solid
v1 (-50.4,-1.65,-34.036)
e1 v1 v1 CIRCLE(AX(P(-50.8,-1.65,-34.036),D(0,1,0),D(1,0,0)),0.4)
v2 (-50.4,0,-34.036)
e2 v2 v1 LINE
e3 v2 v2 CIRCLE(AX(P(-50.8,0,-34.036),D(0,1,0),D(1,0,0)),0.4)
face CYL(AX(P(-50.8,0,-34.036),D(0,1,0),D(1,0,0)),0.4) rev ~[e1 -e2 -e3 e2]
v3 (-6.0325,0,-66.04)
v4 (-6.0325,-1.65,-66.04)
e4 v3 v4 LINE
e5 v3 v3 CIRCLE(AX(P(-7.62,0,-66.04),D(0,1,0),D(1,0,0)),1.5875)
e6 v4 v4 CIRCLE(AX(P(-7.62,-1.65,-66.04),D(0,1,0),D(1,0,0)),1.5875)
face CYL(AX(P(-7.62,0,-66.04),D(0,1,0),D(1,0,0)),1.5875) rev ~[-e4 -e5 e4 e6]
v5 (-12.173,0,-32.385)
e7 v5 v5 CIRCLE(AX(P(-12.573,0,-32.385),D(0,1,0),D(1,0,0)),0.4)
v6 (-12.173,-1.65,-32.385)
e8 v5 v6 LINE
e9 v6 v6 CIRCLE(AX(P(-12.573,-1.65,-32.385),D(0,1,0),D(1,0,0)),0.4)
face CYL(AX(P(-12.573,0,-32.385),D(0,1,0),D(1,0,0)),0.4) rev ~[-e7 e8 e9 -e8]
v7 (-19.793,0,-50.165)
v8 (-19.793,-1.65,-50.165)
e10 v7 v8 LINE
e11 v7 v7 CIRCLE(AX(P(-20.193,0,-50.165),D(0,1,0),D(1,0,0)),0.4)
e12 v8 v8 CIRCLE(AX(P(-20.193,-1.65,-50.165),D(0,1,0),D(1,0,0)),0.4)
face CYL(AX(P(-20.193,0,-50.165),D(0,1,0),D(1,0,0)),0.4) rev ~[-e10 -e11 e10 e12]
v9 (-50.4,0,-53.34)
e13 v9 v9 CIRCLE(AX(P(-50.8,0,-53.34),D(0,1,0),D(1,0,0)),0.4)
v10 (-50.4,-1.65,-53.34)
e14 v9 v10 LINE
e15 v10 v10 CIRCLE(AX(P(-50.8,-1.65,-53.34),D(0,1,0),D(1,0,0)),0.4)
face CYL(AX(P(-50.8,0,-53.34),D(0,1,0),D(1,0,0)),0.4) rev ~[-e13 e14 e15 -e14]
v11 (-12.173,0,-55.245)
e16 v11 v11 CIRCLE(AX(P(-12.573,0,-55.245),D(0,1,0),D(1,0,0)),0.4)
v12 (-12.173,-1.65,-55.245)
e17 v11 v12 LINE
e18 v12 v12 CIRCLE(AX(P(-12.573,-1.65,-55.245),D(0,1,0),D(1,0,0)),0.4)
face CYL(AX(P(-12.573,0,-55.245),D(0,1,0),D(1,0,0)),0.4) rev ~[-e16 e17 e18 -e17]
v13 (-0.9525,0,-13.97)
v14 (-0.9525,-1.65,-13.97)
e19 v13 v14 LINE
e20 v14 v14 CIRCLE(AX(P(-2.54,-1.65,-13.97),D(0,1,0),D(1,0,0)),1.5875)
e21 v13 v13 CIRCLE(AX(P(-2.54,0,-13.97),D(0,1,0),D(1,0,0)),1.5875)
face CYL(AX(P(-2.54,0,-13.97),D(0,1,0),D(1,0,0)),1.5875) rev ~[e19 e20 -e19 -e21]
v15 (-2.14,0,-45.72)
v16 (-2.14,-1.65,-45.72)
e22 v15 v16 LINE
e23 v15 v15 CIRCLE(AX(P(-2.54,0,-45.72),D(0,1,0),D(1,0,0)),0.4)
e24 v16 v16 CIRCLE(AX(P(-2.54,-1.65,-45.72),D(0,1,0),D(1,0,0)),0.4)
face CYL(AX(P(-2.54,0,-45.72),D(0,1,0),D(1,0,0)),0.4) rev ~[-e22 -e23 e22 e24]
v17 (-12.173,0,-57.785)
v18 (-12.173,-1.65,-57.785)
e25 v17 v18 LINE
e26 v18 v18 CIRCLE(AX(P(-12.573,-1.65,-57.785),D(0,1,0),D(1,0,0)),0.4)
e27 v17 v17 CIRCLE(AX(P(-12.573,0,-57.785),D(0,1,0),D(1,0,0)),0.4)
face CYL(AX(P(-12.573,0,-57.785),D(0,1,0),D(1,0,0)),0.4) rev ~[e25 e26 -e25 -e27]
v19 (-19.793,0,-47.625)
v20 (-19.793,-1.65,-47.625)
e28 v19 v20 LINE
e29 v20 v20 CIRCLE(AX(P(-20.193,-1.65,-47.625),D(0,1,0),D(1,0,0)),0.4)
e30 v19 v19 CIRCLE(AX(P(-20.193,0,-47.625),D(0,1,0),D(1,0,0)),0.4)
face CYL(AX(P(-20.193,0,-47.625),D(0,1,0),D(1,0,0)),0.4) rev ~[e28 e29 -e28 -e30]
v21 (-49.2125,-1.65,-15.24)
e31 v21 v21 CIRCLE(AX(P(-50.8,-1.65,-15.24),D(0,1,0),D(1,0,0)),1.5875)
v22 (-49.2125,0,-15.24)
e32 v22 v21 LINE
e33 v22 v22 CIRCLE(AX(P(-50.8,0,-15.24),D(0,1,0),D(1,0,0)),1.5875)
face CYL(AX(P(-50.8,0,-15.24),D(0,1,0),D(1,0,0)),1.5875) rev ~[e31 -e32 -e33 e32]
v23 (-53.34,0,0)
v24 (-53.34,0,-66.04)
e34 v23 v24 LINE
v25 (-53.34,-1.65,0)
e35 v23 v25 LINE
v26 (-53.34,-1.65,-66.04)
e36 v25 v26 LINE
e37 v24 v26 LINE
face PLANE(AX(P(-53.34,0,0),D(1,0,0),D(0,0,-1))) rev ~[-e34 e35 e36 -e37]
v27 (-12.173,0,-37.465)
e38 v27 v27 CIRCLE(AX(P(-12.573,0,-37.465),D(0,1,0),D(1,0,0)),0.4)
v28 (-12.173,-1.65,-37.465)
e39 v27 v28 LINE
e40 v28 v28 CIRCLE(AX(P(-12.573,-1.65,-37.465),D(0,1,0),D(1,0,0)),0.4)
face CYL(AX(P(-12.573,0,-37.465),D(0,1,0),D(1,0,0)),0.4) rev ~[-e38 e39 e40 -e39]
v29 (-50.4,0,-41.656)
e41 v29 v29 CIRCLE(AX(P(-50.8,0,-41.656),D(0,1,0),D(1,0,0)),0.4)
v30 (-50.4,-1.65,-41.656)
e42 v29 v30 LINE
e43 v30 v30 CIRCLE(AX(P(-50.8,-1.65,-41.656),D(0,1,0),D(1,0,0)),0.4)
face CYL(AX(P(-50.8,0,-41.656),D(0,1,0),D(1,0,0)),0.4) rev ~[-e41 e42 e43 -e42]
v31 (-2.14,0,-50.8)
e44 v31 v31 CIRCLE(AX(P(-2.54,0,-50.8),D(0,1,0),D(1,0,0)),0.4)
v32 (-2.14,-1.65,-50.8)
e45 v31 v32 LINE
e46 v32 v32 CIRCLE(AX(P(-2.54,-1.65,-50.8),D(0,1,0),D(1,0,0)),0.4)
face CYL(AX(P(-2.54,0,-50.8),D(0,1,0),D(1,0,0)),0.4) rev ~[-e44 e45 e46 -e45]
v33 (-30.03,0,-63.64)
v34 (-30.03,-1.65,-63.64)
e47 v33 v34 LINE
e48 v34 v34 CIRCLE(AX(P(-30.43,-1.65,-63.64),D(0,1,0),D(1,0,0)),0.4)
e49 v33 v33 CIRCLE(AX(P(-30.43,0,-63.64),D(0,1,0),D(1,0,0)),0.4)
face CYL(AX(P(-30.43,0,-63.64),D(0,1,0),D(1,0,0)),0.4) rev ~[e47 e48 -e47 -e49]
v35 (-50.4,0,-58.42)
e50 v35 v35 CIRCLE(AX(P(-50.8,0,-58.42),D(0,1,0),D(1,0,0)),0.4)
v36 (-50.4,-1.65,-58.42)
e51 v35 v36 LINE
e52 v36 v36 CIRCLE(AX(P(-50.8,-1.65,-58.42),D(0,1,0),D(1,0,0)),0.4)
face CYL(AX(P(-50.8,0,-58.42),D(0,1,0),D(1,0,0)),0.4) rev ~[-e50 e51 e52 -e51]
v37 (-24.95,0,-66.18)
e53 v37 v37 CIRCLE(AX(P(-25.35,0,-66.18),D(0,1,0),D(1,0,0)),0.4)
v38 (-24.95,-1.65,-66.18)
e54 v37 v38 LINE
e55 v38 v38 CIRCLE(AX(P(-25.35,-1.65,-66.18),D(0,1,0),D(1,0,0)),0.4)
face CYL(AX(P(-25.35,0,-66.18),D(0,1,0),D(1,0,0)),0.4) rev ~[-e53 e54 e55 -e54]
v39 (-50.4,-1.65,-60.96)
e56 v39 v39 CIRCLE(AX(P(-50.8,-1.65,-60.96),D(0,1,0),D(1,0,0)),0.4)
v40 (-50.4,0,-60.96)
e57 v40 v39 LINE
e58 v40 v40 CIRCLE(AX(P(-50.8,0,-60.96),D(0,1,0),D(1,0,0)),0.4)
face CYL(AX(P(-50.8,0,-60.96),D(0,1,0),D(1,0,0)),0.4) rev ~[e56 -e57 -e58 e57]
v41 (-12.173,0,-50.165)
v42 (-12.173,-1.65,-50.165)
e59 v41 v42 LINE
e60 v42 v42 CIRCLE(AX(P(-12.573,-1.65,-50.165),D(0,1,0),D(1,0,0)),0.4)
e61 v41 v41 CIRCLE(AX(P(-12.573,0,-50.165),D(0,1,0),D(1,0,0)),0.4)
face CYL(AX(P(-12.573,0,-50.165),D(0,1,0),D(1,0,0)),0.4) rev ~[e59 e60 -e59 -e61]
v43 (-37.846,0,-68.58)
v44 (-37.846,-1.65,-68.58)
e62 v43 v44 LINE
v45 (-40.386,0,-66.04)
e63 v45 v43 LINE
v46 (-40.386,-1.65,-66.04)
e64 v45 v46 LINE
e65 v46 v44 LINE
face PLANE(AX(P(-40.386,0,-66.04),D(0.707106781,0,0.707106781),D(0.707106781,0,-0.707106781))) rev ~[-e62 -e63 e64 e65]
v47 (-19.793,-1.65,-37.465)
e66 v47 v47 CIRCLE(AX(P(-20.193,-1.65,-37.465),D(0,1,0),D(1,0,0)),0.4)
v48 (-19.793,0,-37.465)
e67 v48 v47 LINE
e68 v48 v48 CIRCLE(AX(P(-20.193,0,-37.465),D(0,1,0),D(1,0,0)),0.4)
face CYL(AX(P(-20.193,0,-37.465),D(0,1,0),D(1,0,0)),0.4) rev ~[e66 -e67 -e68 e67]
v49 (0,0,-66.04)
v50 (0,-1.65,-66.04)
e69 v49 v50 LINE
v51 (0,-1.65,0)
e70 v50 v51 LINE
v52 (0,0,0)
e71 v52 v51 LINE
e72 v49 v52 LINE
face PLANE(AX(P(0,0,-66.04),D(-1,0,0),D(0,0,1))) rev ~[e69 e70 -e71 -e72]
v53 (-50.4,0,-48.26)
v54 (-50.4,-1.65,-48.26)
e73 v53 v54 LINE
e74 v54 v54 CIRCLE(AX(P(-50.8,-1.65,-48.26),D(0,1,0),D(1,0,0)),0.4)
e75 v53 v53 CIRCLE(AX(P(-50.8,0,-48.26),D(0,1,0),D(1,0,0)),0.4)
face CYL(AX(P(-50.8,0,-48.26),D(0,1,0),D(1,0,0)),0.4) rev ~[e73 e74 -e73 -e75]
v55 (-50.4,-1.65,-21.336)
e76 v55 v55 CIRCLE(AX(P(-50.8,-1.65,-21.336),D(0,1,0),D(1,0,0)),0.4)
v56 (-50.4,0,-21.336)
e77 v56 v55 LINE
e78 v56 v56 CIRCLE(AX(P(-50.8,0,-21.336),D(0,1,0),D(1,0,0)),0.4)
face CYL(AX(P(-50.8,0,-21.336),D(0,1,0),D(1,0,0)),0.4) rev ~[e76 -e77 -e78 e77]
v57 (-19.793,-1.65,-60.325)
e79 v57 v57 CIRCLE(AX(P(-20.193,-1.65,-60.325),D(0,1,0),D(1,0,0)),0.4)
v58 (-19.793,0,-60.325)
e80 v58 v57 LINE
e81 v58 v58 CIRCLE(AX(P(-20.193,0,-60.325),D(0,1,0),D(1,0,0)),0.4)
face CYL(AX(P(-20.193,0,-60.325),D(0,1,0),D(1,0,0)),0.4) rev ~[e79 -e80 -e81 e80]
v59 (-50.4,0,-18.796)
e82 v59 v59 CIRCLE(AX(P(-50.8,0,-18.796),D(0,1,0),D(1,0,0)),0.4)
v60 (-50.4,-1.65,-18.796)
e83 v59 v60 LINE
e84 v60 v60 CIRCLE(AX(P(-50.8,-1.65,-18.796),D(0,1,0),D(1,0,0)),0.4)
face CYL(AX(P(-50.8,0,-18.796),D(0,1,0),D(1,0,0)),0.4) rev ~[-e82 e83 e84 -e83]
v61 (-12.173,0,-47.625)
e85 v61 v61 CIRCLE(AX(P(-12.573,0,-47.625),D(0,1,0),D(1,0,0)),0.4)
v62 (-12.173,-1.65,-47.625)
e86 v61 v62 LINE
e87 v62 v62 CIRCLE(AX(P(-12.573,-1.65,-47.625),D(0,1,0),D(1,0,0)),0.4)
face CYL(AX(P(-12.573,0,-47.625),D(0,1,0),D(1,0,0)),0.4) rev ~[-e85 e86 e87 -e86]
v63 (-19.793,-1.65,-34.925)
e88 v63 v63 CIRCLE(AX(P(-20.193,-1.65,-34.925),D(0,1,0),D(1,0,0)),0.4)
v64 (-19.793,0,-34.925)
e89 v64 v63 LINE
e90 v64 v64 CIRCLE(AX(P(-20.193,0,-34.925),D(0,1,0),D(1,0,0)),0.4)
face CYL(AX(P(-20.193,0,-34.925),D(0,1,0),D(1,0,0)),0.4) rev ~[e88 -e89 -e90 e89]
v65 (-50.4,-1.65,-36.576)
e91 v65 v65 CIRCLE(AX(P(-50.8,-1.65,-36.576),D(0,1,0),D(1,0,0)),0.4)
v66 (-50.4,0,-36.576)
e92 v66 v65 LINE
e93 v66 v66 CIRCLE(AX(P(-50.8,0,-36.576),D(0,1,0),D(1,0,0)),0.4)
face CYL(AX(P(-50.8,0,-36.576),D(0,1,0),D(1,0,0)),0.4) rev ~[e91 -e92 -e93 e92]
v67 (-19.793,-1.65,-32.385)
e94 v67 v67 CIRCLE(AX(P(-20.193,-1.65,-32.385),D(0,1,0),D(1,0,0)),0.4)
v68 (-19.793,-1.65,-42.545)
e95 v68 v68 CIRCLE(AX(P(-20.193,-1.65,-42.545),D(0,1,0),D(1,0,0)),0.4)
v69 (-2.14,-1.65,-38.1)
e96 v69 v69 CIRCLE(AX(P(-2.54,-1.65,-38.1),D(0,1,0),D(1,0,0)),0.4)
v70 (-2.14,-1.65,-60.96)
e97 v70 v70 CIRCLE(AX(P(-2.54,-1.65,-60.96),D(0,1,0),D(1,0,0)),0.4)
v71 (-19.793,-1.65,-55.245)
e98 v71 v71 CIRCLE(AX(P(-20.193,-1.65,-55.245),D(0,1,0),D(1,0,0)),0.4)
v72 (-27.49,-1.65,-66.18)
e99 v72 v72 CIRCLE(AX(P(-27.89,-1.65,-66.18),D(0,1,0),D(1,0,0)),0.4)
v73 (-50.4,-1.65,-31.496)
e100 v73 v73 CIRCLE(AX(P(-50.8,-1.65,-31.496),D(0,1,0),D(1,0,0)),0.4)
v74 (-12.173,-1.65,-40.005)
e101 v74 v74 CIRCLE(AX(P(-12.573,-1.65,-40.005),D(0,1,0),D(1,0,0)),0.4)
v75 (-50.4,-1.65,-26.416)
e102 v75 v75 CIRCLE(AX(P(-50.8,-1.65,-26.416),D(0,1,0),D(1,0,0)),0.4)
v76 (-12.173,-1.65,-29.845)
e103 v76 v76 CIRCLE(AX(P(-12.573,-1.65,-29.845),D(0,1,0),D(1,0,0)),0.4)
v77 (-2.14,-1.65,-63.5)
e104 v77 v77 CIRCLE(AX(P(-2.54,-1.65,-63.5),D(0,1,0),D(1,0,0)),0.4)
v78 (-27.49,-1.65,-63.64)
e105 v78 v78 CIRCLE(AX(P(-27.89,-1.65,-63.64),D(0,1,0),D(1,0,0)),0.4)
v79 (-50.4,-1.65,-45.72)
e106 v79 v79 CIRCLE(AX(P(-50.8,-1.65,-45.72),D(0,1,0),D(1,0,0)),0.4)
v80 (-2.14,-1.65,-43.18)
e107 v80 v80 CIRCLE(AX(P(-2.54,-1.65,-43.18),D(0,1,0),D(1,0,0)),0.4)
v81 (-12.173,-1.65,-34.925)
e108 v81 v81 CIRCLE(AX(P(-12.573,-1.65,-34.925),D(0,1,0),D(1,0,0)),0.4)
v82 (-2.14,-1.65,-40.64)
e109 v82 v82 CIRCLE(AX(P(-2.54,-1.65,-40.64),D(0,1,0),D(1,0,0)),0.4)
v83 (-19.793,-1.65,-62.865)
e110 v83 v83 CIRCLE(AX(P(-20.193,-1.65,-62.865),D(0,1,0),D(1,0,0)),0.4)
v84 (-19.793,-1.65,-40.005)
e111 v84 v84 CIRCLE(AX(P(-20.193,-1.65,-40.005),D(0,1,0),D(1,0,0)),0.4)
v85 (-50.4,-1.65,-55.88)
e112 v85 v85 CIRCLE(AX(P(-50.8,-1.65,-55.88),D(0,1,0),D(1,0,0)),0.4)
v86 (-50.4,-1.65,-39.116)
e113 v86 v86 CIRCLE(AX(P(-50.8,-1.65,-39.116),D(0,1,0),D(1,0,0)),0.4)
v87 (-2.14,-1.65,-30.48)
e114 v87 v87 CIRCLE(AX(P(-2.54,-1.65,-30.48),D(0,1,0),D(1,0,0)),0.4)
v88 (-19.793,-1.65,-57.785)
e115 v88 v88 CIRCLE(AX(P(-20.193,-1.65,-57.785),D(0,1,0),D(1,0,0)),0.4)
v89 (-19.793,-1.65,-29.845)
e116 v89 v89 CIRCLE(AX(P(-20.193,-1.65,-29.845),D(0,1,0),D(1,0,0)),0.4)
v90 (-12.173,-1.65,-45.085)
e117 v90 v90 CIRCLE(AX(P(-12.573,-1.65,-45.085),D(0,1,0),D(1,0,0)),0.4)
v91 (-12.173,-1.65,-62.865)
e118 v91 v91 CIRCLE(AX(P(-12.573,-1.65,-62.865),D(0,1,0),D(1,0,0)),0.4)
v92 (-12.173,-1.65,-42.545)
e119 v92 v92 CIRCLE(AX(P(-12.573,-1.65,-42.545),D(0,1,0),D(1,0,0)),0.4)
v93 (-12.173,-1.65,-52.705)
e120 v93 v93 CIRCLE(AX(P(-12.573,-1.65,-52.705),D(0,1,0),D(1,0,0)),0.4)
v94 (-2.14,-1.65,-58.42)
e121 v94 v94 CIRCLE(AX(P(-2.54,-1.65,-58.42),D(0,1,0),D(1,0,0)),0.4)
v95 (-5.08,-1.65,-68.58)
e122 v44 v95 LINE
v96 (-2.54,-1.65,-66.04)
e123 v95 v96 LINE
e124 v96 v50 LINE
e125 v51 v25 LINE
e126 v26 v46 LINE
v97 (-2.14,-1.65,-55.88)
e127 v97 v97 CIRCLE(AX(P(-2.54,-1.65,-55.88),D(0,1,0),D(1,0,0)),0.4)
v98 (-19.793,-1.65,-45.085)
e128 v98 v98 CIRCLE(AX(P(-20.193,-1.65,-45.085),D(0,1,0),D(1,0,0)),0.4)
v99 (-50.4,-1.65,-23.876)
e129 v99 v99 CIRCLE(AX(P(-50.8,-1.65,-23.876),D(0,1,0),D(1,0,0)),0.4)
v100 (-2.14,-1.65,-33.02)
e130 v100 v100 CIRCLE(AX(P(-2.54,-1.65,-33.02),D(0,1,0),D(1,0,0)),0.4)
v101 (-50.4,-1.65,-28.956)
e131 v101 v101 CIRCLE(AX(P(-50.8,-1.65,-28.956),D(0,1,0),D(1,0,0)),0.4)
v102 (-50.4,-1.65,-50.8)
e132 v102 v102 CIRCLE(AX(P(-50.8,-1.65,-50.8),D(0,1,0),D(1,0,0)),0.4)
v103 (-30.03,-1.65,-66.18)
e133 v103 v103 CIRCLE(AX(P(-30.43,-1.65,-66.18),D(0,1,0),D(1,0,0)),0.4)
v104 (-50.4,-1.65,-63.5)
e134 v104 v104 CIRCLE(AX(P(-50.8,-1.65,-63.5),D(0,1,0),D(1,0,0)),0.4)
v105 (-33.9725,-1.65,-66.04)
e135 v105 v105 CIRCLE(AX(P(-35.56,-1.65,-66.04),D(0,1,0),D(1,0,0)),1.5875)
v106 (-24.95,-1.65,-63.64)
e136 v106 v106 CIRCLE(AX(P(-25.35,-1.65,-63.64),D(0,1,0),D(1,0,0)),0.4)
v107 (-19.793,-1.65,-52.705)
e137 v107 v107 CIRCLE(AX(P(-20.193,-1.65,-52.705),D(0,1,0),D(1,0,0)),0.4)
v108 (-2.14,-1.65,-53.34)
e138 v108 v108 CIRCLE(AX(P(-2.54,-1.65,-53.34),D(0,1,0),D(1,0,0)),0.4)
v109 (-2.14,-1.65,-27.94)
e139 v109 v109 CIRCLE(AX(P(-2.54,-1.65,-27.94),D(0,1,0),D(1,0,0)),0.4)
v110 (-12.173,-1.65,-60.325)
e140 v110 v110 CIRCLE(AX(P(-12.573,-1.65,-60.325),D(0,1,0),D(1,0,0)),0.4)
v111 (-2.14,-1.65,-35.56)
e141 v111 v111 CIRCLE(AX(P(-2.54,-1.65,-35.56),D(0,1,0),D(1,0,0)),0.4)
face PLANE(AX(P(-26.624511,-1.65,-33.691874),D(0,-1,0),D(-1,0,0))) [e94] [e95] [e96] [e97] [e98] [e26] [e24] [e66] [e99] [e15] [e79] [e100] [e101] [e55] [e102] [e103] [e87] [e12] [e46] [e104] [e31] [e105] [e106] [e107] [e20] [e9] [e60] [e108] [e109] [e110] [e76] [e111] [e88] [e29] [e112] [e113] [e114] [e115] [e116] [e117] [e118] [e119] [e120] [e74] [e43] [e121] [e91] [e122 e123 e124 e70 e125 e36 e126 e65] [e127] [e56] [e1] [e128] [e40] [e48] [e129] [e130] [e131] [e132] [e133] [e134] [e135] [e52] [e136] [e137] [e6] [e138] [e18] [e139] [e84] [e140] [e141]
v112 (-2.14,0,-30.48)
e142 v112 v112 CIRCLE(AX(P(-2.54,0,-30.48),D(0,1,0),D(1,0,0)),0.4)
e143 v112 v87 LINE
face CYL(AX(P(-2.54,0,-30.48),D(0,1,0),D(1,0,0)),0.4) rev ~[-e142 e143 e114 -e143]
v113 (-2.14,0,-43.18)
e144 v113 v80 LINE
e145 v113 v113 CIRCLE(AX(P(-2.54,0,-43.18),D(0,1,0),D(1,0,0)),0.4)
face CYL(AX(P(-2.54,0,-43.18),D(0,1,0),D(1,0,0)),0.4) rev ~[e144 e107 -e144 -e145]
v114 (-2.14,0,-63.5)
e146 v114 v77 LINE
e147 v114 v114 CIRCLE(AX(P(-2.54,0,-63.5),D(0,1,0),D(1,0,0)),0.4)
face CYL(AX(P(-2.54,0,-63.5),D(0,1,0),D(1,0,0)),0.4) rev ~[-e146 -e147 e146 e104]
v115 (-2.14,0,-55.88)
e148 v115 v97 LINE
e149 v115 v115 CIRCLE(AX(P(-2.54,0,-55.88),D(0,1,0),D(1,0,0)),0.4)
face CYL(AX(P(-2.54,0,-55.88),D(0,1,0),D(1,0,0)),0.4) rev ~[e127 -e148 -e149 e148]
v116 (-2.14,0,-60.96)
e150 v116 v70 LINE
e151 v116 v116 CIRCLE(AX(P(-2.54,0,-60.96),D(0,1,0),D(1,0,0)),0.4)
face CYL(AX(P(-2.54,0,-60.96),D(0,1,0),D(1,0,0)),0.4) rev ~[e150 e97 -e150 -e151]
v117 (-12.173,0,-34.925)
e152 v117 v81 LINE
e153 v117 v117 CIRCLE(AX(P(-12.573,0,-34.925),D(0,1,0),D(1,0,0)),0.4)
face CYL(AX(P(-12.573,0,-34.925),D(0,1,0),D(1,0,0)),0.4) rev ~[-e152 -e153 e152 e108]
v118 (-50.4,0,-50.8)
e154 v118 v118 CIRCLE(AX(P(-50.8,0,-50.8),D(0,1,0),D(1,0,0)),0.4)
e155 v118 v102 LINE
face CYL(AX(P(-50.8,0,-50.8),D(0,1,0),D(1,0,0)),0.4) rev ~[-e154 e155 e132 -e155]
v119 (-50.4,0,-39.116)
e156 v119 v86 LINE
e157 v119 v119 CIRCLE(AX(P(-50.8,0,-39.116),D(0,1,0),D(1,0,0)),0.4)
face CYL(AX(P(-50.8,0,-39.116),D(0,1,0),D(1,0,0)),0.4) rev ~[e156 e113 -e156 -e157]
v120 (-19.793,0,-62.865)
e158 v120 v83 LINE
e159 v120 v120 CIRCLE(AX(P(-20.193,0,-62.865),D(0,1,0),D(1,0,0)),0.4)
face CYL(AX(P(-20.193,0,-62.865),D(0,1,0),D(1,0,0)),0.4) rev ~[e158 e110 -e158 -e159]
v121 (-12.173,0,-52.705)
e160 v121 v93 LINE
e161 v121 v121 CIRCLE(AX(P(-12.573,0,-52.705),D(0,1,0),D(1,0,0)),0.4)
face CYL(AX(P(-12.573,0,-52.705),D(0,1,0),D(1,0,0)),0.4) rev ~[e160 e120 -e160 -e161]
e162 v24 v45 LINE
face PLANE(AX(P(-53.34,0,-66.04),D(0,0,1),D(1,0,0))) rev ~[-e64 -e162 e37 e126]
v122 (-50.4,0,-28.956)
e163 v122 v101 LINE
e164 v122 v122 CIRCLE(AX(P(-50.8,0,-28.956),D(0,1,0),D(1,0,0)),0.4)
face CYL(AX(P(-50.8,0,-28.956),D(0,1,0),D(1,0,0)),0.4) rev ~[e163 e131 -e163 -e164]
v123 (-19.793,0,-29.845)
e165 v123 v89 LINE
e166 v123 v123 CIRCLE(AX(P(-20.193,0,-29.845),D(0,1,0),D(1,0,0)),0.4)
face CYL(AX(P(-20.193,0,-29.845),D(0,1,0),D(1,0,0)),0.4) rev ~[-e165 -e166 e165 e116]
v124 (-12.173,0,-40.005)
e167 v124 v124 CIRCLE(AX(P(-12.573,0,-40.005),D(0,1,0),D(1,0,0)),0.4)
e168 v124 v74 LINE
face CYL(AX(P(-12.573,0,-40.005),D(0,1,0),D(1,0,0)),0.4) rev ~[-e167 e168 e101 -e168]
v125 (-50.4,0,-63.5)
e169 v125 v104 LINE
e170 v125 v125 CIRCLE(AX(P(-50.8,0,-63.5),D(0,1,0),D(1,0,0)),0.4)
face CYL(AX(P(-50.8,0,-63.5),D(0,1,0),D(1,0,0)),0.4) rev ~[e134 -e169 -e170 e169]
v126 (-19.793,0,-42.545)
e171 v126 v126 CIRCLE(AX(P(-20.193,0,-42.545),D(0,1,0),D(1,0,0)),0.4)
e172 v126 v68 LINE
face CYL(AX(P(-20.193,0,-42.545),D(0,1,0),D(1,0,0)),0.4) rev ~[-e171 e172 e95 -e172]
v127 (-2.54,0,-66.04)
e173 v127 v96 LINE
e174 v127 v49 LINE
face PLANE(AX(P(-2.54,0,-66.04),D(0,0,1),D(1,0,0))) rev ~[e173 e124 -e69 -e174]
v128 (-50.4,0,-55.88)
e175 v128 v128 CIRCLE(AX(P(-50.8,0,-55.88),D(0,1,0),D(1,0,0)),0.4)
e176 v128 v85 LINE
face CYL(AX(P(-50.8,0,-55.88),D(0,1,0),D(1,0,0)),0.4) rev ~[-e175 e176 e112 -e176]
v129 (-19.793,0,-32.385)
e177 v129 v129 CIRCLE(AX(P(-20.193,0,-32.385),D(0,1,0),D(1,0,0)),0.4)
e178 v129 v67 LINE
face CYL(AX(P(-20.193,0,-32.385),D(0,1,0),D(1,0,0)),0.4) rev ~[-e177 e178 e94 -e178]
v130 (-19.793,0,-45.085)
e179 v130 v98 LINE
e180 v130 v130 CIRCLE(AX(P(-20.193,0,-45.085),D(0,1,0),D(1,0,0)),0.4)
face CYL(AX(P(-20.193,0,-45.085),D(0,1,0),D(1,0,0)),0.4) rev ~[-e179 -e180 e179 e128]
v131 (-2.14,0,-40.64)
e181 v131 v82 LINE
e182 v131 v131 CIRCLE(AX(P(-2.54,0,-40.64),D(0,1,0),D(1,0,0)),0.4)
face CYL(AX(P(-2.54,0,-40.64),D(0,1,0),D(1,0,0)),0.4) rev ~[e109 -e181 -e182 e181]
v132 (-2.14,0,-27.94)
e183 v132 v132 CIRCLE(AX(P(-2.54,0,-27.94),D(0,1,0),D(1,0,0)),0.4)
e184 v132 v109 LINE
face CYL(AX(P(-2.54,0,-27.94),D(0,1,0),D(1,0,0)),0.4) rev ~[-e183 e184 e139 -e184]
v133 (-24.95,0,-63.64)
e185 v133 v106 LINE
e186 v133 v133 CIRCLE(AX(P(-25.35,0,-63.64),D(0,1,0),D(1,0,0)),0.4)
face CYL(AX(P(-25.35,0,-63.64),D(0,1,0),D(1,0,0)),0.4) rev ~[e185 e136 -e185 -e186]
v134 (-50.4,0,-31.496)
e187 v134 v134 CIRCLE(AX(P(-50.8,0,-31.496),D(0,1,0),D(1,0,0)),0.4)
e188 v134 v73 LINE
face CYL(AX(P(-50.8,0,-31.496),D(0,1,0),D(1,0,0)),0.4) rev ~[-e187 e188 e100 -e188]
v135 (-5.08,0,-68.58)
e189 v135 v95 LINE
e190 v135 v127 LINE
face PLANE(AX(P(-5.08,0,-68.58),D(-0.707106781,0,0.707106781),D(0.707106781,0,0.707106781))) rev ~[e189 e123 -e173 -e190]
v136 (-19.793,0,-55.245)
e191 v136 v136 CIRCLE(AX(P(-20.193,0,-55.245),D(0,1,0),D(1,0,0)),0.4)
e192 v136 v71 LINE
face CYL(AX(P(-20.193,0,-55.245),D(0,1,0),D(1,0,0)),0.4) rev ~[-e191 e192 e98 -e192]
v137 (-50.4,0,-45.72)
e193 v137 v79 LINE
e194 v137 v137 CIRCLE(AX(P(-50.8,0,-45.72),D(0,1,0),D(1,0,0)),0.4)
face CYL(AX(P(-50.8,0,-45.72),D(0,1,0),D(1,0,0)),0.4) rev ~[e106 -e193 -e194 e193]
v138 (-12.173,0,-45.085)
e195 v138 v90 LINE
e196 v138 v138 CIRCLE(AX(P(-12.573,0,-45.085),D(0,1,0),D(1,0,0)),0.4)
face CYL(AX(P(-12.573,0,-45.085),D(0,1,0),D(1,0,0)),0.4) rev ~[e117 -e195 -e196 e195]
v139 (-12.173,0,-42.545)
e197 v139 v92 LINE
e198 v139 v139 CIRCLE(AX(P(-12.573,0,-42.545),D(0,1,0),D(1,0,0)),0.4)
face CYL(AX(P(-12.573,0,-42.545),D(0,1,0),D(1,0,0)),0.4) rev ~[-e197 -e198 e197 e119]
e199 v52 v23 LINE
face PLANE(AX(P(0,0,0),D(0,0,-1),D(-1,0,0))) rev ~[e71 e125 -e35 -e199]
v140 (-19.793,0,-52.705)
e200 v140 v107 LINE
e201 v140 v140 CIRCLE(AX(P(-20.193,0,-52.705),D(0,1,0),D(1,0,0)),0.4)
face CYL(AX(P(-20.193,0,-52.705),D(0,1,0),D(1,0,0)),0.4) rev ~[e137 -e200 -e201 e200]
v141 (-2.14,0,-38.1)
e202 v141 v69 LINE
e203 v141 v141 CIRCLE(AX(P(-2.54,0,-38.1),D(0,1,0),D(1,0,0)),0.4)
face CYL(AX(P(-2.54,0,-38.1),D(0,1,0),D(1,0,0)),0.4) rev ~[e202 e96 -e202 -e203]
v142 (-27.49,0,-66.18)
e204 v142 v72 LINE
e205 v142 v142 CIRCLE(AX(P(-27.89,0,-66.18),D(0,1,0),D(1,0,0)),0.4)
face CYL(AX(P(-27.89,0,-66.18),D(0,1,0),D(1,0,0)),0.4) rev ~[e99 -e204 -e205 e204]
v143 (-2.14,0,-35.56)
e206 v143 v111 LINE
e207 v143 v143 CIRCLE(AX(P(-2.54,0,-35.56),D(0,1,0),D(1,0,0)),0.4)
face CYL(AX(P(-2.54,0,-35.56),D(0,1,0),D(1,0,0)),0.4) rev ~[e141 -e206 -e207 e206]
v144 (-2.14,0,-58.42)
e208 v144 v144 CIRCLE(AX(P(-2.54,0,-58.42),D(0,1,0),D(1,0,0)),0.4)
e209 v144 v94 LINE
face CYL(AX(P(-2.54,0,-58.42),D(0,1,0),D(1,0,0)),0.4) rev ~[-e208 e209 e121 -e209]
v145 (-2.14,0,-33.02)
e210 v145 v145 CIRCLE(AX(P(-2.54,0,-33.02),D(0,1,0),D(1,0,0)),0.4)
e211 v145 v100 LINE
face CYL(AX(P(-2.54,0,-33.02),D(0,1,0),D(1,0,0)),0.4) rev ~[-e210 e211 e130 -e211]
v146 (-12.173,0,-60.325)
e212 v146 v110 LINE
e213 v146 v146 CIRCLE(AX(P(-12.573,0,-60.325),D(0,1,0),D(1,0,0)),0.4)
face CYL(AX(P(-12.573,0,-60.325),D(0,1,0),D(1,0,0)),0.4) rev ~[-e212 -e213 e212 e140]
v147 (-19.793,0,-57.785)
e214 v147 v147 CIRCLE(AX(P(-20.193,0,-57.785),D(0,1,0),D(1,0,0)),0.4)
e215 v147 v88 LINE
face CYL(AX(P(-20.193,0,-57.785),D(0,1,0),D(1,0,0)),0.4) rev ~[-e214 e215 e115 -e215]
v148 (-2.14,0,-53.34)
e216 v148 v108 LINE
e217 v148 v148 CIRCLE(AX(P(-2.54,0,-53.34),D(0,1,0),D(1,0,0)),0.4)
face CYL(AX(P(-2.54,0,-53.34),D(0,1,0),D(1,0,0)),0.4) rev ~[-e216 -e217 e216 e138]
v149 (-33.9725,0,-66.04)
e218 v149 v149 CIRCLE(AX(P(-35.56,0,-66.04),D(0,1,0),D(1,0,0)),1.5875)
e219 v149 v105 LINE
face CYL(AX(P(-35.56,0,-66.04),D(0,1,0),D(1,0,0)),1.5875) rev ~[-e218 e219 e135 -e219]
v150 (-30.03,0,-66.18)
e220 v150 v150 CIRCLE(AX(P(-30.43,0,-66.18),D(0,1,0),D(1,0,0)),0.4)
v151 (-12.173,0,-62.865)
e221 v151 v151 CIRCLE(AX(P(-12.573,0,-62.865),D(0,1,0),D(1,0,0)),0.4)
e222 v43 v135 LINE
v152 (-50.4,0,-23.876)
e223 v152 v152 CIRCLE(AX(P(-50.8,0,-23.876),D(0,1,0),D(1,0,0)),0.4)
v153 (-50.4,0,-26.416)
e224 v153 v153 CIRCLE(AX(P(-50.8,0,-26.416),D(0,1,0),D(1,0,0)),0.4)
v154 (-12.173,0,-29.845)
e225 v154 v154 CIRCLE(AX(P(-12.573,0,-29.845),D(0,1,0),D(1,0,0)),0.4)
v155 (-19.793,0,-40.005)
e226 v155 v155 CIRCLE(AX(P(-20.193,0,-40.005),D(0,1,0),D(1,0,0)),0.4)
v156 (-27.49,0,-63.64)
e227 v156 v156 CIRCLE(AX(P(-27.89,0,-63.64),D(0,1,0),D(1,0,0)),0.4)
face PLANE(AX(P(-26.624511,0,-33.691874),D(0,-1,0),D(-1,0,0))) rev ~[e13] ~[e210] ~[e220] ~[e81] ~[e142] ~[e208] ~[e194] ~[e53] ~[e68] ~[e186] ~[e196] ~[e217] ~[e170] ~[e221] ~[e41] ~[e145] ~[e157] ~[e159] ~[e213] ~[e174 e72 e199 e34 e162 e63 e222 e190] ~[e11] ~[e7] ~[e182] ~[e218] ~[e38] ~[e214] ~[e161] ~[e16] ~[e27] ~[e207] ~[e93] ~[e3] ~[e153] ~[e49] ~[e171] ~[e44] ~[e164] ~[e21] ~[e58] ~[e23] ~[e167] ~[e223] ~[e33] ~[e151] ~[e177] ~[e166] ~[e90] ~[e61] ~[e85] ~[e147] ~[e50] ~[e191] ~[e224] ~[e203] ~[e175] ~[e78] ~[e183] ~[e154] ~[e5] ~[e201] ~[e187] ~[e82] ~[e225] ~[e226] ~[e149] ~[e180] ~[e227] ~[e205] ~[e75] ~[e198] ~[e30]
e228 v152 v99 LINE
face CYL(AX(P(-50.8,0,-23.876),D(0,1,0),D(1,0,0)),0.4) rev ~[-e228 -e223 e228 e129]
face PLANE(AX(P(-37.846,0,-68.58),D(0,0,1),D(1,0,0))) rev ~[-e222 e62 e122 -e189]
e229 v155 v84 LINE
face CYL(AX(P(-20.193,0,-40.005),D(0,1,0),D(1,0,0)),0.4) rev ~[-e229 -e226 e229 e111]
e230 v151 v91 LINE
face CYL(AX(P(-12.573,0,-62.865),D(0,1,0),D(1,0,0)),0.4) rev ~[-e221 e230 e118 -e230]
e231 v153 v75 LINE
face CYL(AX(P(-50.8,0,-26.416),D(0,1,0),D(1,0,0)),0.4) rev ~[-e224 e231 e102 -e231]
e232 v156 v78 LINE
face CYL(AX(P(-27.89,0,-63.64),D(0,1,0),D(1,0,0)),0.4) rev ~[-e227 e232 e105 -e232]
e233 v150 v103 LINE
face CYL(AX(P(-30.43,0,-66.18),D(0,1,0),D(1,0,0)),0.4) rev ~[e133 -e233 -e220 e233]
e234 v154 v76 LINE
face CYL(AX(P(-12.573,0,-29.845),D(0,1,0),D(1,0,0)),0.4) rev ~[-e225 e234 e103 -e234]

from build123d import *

# Parameters (mm, degrees)
SKETCH1_R           = 1.5875
BOSS_EXTRUDE1_DEPTH = 1.65
SKETCH2_R           = 0.4
CUT_EXTRUDE1_DEPTH  = 1.65
SKETCH3_R           = 0.4
CUT_EXTRUDE2_DEPTH  = 1.65
LPATTERN1_COUNT     = 15
LPATTERN1_PITCH     = 2.54
SKETCH4_R           = 0.4
CUT_EXTRUDE3_DEPTH  = 1.65
LPATTERN2_COUNT     = 10
LPATTERN2_PITCH     = 2.54
LPATTERN3_COUNT     = 8
LPATTERN3_PITCH     = 2.54
SKETCH5_R           = 0.4
SKETCH5_R_2         = 0.5
CUT_EXTRUDE4_DEPTH  = 10
SKETCH6_R           = 0.4
CUT_EXTRUDE5_DEPTH  = 10


with BuildPart() as part:
    # Sketch1 → Boss-Extrude1 (new body)
    with BuildSketch(Plane(origin=(0, 0, 0), x_dir=(1, 0, 0), z_dir=(0, 1, 0))):
        Polygon((0, 0), (-53.34, 0), (-53.34, 66.04), (-40.386, 66.04), (-37.846, 68.58), (-5.08, 68.58), (-2.54, 66.04), (0, 66.04), align=None)
        with Locations((-7.62, 66.04)):
            Circle(SKETCH1_R, mode=Mode.SUBTRACT)
        with Locations((-35.56, 66.04)):
            Circle(SKETCH1_R, mode=Mode.SUBTRACT)
        with Locations((-2.54, 13.97)):
            Circle(SKETCH1_R, mode=Mode.SUBTRACT)
        with Locations((-50.8, 15.24)):
            Circle(SKETCH1_R, mode=Mode.SUBTRACT)
    extrude(amount=-BOSS_EXTRUDE1_DEPTH)

    # Sketch2 → Cut-Extrude1 (cut)
    with BuildSketch(Plane(origin=(0, 0, 0), x_dir=(1, 0, 0), z_dir=(0, 1, 0))):
        with Locations((-2.54, 27.94)):
            Circle(SKETCH2_R)
    cut_extrude1 = extrude(amount=-CUT_EXTRUDE1_DEPTH, mode=Mode.SUBTRACT)

    # Sketch3 → Cut-Extrude2 (cut)
    with BuildSketch(Plane(origin=(0, 0, 0), x_dir=(1, 0, 0), z_dir=(0, 1, 0))):
        with Locations((-50.8, 18.796)):
            Circle(SKETCH3_R)
    cut_extrude2 = extrude(amount=-CUT_EXTRUDE2_DEPTH, mode=Mode.SUBTRACT)

    # LPattern1: Cut-Extrude1 ×15, 1 skipped
    with Locations(*[(0, 0, -i * LPATTERN1_PITCH) for i in range(1, LPATTERN1_COUNT) if i not in (8,)]):
        add(cut_extrude1, mode=Mode.SUBTRACT)

    # Sketch4 → Cut-Extrude3 (cut)
    with BuildSketch(Plane(origin=(0, 0, 0), x_dir=(1, 0, 0), z_dir=(0, 1, 0))):
        with Locations((-50.8, 45.72)):
            Circle(SKETCH4_R)
    cut_extrude3 = extrude(amount=-CUT_EXTRUDE3_DEPTH, mode=Mode.SUBTRACT)

    # LPattern2: Cut-Extrude2 ×10
    with Locations(*[(0, 0, -i * LPATTERN2_PITCH) for i in range(1, LPATTERN2_COUNT)]):
        add(cut_extrude2, mode=Mode.SUBTRACT)

    # LPattern3: Cut-Extrude3 ×8
    with Locations(*[(0, 0, -i * LPATTERN3_PITCH) for i in range(1, LPATTERN3_COUNT)]):
        add(cut_extrude3, mode=Mode.SUBTRACT)

    # Sketch5 → Cut-Extrude4 (cut)
    with BuildSketch(Plane(origin=(0, 0, 0), x_dir=(1, 0, 0), z_dir=(0, 1, 0))):
        with Locations((-30.43, 66.18)):
            Circle(SKETCH5_R)
        with Locations((-27.89, 66.18)):
            Circle(SKETCH5_R)
        with Locations((-25.35, 66.18)):
            Circle(SKETCH5_R)
        with Locations((-25.35, 63.64)):
            Circle(SKETCH5_R)
        with Locations((-27.89, 63.64)):
            Circle(SKETCH5_R)
        with Locations((-30.43, 63.64)):
            Circle(SKETCH5_R)
        with Locations((-47.498, 399.9992)):
            Circle(SKETCH5_R)
        with Locations((-47.498, 402.5392)):
            Circle(SKETCH5_R)
        with Locations((-47.498, 405.0792)):
            Circle(SKETCH5_R)
        with Locations((-44.958, 405.0792)):
            Circle(SKETCH5_R)
        with Locations((-44.958, 402.5392)):
            Circle(SKETCH5_R)
        with Locations((-44.958, 399.9992)):
            Circle(SKETCH5_R)
        with Locations((-42.418, 402.5392)):
            Circle(SKETCH5_R)
        with Locations((-42.418, 405.0792)):
            Circle(SKETCH5_R)
        with Locations((-39.878, 405.0792)):
            Circle(SKETCH5_R)
        with Locations((-39.878, 402.5392)):
            Circle(SKETCH5_R)
        with Locations((-26.162, 421.2082)):
            Circle(SKETCH5_R_2)
        with Locations((-26.162, 416.1282)):
            Circle(SKETCH5_R_2)
    extrude(amount=-CUT_EXTRUDE4_DEPTH, mode=Mode.SUBTRACT)

    # Sketch6 → Cut-Extrude5 (cut)
    with BuildSketch(Plane(origin=(0, 0, 0), x_dir=(1, 0, 0), z_dir=(0, 1, 0))):
        with Locations((-20.193, 29.845)):
            Circle(SKETCH6_R)
        with Locations((-12.573, 29.845)):
            Circle(SKETCH6_R)
        with Locations((-20.193, 32.385)):
            Circle(SKETCH6_R)
        with Locations((-12.573, 32.385)):
            Circle(SKETCH6_R)
        with Locations((-20.193, 34.925)):
            Circle(SKETCH6_R)
        with Locations((-12.573, 34.925)):
            Circle(SKETCH6_R)
        with Locations((-20.193, 37.465)):
            Circle(SKETCH6_R)
        with Locations((-12.573, 37.465)):
            Circle(SKETCH6_R)
        with Locations((-20.193, 40.005)):
            Circle(SKETCH6_R)
        with Locations((-12.573, 40.005)):
            Circle(SKETCH6_R)
        with Locations((-20.193, 42.545)):
            Circle(SKETCH6_R)
        with Locations((-12.573, 42.545)):
            Circle(SKETCH6_R)
        with Locations((-20.193, 45.085)):
            Circle(SKETCH6_R)
        with Locations((-12.573, 45.085)):
            Circle(SKETCH6_R)
        with Locations((-20.193, 47.625)):
            Circle(SKETCH6_R)
        with Locations((-12.573, 47.625)):
            Circle(SKETCH6_R)
        with Locations((-20.193, 50.165)):
            Circle(SKETCH6_R)
        with Locations((-12.573, 50.165)):
            Circle(SKETCH6_R)
        with Locations((-20.193, 52.705)):
            Circle(SKETCH6_R)
        with Locations((-12.573, 52.705)):
            Circle(SKETCH6_R)
        with Locations((-20.193, 55.245)):
            Circle(SKETCH6_R)
        with Locations((-12.573, 55.245)):
            Circle(SKETCH6_R)
        with Locations((-20.193, 57.785)):
            Circle(SKETCH6_R)
        with Locations((-12.573, 57.785)):
            Circle(SKETCH6_R)
        with Locations((-20.193, 60.325)):
            Circle(SKETCH6_R)
        with Locations((-12.573, 60.325)):
            Circle(SKETCH6_R)
        with Locations((-20.193, 62.865)):
            Circle(SKETCH6_R)
        with Locations((-12.573, 62.865)):
            Circle(SKETCH6_R)
    extrude(amount=-CUT_EXTRUDE5_DEPTH, mode=Mode.SUBTRACT)


solid = part.part
